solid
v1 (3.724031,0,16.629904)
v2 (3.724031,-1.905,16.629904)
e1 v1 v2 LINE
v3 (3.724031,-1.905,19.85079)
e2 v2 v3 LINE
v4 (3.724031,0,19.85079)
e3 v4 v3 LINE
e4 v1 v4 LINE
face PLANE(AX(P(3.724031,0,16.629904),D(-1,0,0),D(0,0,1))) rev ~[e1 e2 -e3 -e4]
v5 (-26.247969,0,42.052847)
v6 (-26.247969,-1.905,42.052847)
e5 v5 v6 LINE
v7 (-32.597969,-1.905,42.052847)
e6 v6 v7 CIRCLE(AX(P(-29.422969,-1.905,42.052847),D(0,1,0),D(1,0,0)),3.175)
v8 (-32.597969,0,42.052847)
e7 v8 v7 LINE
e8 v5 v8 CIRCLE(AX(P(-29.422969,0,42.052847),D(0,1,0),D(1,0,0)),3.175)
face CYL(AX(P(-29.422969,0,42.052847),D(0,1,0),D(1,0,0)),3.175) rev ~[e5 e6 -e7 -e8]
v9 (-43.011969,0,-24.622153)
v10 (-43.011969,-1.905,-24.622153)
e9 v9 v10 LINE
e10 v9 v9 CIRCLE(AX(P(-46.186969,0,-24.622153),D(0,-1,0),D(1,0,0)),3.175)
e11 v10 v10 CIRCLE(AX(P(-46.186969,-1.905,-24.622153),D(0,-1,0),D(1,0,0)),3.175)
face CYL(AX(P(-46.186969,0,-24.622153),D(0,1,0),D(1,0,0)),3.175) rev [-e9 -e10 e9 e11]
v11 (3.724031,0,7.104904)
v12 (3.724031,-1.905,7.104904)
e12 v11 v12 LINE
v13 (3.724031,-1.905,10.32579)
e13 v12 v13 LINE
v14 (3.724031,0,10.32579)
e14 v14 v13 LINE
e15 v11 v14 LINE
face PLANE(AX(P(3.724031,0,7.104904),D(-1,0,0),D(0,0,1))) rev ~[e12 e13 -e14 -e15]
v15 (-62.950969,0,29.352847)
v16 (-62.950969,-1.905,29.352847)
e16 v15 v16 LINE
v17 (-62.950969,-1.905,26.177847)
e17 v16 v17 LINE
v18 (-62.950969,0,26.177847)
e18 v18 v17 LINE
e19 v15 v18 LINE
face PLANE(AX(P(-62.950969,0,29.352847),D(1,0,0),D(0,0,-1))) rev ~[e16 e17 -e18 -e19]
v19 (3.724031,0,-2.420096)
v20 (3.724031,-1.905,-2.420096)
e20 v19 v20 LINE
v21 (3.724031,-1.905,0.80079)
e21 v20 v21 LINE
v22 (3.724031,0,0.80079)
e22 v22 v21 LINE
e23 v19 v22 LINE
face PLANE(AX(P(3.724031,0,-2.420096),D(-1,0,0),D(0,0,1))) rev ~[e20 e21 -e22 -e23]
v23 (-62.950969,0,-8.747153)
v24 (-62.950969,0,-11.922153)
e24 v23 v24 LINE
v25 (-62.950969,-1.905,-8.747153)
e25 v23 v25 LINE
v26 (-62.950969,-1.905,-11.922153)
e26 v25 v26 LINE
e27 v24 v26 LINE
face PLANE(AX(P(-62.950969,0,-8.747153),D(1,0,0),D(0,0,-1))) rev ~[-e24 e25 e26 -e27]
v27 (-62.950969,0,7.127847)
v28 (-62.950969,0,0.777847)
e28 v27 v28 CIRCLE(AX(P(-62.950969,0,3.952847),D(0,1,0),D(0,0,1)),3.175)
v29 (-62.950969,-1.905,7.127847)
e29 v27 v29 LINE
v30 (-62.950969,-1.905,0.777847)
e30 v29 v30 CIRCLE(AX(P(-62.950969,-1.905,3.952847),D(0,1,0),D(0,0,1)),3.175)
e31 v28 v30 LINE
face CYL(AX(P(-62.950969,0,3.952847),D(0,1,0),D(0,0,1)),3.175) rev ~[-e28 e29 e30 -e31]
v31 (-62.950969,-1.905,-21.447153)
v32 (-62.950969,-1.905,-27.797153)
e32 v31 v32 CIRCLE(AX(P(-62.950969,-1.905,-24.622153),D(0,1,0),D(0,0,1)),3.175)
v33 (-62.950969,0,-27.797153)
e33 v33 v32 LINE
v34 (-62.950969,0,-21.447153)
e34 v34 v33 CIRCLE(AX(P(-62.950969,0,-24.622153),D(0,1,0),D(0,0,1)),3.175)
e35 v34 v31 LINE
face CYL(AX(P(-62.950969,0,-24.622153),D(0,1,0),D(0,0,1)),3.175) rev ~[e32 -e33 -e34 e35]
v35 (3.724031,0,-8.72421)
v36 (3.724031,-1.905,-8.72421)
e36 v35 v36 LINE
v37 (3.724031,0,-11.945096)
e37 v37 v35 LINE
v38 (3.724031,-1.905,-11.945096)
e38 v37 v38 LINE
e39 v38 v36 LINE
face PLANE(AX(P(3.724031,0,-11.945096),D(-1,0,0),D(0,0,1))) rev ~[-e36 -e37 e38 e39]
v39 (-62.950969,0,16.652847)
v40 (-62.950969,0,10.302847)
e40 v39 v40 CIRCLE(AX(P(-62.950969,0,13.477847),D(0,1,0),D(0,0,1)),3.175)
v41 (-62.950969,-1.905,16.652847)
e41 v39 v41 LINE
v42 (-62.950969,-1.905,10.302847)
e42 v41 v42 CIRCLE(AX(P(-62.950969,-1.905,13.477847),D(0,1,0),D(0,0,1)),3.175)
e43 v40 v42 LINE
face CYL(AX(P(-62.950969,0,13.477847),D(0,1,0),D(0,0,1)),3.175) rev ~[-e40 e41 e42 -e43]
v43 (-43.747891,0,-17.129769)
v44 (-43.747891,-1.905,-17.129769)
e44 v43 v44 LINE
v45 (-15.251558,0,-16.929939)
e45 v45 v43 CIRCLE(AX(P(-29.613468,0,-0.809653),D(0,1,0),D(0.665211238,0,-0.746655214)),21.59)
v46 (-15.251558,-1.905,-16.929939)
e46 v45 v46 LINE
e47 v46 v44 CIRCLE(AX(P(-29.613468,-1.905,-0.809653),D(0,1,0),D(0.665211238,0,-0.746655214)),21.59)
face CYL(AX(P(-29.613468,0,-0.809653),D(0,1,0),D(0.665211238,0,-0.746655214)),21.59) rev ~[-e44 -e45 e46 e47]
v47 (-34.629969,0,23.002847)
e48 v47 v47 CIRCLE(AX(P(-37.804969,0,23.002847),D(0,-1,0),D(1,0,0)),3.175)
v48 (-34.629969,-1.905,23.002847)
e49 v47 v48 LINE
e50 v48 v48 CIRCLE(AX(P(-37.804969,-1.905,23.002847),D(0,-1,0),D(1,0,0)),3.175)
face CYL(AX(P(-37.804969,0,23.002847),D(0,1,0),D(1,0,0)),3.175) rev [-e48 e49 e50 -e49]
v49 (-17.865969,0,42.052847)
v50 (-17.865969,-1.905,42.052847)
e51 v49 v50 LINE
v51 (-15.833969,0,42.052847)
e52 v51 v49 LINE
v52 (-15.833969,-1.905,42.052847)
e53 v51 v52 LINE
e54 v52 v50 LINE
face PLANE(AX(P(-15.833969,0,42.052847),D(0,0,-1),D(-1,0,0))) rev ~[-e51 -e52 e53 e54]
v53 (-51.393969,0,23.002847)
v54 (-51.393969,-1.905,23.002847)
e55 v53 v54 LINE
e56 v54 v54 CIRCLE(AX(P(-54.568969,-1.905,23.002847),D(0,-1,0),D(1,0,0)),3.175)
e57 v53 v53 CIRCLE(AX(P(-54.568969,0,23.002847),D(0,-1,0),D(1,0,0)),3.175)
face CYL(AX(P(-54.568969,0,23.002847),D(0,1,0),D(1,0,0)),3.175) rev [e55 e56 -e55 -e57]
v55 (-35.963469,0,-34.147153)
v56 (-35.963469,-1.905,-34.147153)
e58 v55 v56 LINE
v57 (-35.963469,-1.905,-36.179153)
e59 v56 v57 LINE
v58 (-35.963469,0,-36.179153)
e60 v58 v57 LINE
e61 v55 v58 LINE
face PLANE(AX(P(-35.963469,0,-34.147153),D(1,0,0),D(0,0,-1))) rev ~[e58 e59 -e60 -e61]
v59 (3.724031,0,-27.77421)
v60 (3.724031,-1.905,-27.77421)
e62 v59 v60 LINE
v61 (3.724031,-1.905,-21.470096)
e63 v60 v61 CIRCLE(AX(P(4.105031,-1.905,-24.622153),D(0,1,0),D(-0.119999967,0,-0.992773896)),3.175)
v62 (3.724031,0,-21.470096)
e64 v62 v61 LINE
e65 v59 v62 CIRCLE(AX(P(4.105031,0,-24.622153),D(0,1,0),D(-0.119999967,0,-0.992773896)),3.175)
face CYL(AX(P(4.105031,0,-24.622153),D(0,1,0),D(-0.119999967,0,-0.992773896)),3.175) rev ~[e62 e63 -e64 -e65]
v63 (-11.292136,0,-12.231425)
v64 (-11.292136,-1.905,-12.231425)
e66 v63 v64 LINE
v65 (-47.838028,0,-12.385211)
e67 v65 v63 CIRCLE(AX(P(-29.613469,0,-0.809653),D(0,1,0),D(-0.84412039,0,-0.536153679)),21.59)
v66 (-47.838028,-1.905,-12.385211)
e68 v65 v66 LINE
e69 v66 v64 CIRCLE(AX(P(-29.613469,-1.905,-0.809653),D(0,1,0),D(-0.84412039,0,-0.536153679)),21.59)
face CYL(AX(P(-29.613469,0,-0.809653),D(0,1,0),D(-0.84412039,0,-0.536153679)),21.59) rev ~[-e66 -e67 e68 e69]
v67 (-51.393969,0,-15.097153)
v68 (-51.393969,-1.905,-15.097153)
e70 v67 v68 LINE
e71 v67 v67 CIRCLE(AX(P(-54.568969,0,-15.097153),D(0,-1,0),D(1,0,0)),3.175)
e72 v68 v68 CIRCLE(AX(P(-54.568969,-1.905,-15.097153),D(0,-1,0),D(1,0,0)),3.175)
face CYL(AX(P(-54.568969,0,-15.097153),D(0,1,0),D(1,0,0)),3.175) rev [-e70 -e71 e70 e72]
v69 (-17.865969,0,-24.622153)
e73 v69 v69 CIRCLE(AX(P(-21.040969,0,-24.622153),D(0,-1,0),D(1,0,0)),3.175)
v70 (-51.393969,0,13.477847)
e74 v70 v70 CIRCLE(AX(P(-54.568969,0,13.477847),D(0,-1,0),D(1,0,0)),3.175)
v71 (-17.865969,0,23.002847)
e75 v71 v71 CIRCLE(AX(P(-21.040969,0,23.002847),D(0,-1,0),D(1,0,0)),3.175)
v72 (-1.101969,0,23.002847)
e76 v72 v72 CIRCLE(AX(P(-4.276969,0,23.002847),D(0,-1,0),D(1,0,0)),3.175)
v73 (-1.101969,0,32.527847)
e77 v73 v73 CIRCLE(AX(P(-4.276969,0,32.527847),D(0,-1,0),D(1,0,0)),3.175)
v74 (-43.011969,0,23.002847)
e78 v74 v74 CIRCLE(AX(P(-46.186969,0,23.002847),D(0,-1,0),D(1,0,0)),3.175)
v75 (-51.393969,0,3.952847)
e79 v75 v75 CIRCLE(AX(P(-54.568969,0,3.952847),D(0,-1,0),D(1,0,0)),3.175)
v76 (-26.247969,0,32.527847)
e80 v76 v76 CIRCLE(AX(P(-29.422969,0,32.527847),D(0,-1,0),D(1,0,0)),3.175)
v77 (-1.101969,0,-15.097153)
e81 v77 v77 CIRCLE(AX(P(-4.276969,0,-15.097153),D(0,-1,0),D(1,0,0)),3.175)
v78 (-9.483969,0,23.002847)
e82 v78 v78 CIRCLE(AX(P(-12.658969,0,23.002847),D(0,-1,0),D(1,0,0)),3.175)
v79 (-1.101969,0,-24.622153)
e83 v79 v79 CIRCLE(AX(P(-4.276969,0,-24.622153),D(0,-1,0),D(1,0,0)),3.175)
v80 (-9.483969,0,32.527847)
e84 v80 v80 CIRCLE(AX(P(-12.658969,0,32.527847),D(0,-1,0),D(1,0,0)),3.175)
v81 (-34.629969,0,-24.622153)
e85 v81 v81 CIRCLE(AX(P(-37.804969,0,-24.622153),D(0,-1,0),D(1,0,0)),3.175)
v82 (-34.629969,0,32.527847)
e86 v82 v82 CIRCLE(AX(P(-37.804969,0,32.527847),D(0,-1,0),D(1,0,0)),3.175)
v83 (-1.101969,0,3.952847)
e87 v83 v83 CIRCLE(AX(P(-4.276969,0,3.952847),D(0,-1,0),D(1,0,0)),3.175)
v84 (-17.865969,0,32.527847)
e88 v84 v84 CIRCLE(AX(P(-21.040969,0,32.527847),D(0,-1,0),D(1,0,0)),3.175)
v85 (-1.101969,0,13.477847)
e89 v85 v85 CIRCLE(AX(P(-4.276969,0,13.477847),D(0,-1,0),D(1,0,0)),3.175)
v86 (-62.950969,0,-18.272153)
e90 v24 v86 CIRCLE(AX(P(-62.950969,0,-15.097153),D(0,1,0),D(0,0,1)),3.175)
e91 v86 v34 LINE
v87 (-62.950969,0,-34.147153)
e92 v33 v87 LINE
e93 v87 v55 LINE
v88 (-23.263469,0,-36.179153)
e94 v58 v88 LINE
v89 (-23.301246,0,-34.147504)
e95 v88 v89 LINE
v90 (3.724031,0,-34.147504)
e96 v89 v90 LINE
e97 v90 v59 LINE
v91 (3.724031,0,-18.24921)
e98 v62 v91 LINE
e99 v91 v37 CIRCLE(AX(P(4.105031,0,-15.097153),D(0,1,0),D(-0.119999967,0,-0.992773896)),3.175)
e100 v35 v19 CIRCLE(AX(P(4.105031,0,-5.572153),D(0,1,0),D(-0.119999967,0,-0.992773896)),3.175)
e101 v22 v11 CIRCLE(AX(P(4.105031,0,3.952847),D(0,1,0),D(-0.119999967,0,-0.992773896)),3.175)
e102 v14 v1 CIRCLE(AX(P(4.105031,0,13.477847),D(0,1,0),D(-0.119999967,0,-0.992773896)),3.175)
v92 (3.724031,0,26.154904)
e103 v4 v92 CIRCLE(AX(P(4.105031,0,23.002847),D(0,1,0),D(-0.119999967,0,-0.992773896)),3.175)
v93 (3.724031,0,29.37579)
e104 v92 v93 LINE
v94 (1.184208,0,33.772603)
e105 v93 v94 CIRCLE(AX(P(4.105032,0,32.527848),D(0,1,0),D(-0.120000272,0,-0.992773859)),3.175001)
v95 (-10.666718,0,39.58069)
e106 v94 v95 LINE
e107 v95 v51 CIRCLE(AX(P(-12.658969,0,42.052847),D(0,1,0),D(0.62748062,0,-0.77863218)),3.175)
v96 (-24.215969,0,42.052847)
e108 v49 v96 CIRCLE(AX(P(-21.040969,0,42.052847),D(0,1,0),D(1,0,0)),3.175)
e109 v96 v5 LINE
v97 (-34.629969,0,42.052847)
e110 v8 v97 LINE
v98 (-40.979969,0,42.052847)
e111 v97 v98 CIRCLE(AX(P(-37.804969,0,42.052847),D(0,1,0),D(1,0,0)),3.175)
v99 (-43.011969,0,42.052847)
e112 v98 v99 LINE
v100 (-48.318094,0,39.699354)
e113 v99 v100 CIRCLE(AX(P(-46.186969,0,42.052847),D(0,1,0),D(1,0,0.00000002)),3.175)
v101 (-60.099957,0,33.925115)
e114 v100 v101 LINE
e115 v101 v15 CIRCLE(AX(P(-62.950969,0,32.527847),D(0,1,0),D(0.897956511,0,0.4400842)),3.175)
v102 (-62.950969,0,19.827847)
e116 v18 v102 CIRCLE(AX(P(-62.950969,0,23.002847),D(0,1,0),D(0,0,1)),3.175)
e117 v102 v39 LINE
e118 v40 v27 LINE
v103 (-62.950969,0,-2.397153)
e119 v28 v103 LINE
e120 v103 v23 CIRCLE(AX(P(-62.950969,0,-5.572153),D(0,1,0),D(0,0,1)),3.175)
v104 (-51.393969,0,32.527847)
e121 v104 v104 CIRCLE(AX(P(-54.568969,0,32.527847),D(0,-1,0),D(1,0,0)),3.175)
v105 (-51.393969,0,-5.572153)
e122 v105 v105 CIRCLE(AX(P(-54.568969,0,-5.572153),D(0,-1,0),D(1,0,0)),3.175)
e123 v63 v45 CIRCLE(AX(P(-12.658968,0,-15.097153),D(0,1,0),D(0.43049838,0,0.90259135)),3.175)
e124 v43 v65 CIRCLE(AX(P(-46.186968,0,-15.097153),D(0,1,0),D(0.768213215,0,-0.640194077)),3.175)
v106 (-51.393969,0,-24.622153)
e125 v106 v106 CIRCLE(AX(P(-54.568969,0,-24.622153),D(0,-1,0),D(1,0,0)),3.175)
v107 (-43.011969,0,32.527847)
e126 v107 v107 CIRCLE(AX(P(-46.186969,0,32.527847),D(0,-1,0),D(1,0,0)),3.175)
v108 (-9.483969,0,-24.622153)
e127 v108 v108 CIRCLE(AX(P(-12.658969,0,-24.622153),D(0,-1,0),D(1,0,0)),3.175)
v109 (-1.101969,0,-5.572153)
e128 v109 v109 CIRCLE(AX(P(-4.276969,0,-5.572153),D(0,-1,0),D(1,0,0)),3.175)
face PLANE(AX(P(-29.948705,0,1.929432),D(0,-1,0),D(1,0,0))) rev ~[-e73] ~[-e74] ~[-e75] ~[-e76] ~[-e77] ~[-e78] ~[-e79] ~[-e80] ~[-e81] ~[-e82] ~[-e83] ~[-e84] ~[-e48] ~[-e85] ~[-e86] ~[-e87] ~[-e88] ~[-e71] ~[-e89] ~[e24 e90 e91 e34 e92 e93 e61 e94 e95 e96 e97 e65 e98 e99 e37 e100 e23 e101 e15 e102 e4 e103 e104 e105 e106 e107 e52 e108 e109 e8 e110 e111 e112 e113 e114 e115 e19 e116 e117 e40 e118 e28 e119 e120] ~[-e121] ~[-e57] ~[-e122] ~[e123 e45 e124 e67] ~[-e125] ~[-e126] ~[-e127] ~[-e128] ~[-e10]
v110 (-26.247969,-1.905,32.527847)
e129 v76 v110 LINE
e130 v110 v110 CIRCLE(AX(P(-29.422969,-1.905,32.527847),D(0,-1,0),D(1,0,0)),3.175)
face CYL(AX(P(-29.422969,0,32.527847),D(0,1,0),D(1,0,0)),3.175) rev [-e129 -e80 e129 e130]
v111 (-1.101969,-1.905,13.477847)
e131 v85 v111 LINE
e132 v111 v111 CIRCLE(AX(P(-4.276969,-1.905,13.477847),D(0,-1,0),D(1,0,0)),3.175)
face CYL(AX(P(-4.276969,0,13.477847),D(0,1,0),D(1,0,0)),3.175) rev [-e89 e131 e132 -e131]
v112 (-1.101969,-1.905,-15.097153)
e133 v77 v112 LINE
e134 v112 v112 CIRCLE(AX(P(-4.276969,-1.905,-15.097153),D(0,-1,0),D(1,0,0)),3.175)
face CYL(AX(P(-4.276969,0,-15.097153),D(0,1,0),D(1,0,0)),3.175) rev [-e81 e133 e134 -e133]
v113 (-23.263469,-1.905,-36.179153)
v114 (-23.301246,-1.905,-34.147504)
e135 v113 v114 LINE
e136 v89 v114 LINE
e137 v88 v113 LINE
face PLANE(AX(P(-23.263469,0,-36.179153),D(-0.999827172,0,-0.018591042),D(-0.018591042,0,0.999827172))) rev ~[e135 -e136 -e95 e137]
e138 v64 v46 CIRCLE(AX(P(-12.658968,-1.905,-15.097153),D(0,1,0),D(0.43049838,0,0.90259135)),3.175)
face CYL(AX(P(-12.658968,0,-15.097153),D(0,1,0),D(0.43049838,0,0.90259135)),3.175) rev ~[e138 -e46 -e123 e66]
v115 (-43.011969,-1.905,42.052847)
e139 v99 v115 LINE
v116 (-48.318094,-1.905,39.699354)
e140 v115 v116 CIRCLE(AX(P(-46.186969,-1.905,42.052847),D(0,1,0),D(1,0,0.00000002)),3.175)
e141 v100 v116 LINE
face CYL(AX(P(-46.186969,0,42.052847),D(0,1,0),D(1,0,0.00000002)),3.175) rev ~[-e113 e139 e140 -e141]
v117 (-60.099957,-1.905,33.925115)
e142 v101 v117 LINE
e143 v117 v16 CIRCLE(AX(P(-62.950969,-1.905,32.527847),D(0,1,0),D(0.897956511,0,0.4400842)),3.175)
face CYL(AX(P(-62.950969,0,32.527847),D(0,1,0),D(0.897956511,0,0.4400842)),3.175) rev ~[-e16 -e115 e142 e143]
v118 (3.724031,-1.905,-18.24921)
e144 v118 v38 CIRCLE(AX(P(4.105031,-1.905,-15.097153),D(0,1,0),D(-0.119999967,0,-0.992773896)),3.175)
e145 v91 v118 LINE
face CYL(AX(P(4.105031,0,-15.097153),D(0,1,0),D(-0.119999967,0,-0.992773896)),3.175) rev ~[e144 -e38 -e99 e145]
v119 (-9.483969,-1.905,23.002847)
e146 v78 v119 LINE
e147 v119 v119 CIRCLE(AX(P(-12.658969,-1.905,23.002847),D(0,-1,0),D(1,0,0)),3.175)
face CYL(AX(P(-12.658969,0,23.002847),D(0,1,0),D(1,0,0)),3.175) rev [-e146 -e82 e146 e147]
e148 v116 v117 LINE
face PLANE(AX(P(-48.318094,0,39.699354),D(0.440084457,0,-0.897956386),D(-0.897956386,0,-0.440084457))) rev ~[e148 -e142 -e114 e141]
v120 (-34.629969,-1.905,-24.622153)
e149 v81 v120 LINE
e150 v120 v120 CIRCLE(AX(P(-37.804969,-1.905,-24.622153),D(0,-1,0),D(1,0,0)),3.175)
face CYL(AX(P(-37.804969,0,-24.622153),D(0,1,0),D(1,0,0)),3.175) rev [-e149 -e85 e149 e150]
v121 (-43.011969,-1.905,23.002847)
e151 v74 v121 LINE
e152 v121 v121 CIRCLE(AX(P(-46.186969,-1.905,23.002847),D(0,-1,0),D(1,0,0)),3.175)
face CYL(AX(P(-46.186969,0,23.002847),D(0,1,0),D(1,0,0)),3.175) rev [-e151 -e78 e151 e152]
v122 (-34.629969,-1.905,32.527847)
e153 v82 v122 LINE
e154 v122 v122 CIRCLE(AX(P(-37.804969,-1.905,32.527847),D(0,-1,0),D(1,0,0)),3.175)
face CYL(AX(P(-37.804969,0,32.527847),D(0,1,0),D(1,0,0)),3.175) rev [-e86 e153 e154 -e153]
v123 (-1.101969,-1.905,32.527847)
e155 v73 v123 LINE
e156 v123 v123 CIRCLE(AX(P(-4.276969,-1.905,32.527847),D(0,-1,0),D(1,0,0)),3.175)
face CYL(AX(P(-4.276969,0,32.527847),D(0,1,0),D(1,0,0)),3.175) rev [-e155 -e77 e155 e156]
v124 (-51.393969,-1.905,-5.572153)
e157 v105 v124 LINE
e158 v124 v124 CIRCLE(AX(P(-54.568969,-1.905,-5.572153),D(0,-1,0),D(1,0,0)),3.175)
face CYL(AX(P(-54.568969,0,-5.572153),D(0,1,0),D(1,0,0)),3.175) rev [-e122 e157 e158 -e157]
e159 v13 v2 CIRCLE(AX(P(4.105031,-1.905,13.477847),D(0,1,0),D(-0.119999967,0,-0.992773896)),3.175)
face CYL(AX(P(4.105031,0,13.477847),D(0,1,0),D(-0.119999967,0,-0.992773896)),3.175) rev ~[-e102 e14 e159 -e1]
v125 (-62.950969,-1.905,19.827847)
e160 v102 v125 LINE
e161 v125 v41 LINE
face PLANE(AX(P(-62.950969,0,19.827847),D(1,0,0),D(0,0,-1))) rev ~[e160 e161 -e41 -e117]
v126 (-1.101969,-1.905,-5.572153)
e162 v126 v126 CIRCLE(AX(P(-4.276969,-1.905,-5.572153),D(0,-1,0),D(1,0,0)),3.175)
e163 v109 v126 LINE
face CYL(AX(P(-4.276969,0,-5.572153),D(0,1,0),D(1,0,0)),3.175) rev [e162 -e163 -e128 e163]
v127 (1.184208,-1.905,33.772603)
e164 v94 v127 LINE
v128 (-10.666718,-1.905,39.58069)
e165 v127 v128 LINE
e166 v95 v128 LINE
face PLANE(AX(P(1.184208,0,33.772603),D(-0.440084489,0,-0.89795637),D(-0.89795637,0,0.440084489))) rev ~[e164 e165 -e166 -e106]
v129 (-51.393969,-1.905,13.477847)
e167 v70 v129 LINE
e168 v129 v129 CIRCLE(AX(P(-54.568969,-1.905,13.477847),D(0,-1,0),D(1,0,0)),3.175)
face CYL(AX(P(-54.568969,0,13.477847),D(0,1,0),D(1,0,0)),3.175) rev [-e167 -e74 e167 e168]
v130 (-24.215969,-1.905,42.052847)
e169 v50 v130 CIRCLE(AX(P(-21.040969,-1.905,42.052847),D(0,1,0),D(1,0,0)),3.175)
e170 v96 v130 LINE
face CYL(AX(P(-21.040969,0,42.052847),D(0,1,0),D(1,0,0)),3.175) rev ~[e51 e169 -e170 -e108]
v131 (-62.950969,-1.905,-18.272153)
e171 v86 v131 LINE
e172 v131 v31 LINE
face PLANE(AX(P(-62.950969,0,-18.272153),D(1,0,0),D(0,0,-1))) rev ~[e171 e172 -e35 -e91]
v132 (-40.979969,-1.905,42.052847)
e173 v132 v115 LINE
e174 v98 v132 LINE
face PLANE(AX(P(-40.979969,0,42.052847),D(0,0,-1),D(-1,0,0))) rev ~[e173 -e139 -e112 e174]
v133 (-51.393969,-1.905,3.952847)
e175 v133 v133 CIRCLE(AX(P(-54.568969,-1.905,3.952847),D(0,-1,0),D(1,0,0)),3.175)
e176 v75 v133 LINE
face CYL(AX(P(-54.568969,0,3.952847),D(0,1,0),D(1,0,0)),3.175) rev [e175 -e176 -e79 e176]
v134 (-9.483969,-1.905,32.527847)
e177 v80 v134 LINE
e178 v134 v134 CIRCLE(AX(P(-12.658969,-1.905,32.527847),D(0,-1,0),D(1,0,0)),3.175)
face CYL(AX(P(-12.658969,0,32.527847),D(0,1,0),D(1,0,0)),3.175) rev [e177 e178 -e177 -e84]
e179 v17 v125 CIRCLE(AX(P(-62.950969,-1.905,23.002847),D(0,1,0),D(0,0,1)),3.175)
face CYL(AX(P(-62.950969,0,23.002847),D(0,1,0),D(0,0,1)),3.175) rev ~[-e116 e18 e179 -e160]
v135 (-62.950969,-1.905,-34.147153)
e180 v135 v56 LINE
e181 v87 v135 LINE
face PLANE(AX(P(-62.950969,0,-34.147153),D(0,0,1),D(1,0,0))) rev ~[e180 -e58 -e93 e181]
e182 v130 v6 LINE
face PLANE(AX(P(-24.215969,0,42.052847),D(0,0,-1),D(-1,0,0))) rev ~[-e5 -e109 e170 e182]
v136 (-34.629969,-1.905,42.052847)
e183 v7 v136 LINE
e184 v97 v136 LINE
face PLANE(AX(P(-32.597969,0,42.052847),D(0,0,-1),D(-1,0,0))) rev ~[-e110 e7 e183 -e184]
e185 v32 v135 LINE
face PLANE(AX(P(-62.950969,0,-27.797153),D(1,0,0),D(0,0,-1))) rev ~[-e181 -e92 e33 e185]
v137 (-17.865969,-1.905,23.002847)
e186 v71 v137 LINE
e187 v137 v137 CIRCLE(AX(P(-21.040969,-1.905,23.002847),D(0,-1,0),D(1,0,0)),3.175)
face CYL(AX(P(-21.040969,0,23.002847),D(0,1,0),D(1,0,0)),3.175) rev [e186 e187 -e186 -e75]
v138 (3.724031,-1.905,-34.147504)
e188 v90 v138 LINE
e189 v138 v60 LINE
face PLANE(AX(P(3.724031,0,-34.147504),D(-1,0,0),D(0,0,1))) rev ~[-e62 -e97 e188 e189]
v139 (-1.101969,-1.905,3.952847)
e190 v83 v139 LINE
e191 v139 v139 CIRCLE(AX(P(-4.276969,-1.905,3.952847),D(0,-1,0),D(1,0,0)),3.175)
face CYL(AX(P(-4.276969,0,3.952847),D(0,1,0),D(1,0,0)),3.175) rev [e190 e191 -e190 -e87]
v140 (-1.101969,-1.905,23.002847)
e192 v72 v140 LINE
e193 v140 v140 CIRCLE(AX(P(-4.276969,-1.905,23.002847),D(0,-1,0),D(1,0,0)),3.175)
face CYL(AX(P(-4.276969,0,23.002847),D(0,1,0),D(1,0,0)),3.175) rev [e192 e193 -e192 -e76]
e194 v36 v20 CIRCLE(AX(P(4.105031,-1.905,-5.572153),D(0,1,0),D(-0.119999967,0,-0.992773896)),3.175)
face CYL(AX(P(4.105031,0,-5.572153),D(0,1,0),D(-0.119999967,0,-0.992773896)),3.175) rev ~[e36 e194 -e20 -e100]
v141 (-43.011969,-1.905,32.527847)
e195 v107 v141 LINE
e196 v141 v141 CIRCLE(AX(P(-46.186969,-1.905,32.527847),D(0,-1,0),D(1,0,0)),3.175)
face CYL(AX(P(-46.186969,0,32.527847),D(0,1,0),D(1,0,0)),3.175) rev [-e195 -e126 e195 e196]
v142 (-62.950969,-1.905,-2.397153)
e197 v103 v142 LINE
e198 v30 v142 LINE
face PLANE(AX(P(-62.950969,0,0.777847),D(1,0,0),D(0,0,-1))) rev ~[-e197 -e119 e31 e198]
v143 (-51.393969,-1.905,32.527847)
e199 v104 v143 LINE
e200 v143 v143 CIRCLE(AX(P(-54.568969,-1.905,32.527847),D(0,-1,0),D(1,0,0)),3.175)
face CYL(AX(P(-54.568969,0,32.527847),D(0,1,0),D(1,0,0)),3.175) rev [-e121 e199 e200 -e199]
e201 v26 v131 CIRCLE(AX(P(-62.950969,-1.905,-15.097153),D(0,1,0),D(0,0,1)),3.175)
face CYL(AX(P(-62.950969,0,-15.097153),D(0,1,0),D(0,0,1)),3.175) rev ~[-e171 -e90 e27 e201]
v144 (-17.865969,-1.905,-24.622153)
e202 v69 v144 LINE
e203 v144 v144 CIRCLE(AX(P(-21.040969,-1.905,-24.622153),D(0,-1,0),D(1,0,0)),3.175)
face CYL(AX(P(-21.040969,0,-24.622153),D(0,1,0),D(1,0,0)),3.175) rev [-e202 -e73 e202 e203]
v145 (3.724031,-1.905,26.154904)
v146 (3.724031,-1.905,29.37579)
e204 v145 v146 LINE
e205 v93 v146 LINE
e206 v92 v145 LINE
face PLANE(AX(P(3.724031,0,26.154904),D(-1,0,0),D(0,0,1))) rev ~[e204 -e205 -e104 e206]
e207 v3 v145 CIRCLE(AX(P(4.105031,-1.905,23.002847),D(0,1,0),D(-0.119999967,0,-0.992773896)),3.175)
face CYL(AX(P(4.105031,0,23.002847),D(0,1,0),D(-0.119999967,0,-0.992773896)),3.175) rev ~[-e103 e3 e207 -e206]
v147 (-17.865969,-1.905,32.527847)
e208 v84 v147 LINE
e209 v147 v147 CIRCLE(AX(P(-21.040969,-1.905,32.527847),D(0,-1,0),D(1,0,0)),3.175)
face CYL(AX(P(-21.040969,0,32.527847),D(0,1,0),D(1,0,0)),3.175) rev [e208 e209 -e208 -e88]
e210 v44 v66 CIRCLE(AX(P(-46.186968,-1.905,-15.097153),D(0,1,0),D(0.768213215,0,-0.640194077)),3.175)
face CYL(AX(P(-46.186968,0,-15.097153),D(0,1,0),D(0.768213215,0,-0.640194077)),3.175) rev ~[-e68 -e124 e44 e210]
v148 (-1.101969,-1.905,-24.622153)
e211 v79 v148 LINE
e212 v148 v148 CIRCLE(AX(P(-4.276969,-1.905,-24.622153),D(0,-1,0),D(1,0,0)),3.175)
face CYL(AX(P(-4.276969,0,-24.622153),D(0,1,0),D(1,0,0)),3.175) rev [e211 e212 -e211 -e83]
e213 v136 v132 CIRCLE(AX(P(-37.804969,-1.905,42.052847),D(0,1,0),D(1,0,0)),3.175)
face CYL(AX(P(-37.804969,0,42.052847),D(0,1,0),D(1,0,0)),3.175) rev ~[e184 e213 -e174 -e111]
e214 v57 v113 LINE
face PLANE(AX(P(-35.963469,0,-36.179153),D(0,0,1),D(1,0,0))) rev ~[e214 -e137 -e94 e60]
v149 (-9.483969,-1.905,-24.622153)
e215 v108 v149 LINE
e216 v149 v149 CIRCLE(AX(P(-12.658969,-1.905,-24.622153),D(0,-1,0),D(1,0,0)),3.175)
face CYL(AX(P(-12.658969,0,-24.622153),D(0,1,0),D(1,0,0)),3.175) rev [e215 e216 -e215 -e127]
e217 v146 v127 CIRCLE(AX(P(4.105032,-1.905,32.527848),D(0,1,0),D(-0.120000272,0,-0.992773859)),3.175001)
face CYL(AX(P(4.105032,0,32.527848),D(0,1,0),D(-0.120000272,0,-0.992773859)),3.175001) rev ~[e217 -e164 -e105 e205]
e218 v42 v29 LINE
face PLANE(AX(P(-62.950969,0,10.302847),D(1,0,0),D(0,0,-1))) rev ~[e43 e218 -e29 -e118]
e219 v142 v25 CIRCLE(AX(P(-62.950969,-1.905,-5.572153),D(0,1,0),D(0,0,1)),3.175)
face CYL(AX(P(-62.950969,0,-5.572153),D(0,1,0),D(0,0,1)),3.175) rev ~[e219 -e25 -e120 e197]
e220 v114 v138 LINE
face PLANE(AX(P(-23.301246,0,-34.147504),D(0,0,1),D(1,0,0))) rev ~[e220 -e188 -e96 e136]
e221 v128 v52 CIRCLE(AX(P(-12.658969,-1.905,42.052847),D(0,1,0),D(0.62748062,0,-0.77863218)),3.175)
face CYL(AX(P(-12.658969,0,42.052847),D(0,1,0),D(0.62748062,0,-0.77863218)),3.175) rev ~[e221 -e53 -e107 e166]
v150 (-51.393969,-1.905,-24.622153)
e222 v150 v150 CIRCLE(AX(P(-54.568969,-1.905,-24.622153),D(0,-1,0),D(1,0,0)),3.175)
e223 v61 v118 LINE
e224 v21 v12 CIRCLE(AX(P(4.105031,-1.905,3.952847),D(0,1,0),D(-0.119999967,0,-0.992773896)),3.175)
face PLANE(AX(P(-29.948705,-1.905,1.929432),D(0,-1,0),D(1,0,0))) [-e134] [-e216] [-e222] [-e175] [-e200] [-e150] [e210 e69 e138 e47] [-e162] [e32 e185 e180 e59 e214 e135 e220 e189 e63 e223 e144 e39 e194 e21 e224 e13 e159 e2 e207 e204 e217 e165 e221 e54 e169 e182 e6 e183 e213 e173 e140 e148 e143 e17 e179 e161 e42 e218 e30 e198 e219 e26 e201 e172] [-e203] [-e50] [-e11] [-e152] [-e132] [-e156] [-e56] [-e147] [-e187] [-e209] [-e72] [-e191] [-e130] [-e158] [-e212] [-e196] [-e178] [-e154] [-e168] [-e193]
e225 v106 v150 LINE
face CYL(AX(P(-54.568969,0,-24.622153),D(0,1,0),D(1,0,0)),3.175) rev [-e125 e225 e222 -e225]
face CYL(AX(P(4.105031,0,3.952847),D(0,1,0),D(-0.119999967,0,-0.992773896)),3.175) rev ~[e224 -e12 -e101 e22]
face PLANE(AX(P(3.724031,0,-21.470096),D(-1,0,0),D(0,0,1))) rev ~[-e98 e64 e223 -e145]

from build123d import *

# Parameters (mm, degrees)
F0_R     = 3.175
F1_DEPTH = 1.905


with BuildPart() as f1:
    # F0 (on Front) → F1 (new body)
    with BuildSketch(Plane.XZ):
        with BuildLine():
            Line((-62.950969, -32.115153), (-62.950969, -34.147153))
            Line((-62.950969, -34.147153), (-35.963469, -34.147153))
            Line((-35.963469, -34.147153), (-35.963469, -36.179153))
            Line((-35.963469, -36.179153), (-23.263469, -36.179153))
            Line((-23.263469, -36.179153), (-23.301246, -34.147504))
            Line((-23.301246, -34.147504), (3.724031, -34.147504))
            Line((3.724031, -34.147504), (3.724031, -27.77421))
            ThreePointArc((3.724031, -27.77421), (0.930031, -24.622153), (3.724031, -21.470096))
            Line((3.724031, -21.470096), (3.724031, -18.24921))
            ThreePointArc((3.724031, -18.24921), (0.930031, -15.097153), (3.724031, -11.945096))
            Line((3.724031, -11.945096), (3.724031, -8.72421))
            ThreePointArc((3.724031, -8.72421), (0.930031, -5.572153), (3.724031, -2.420096))
            Line((3.724031, -2.420096), (3.724031, 0.80079))
            ThreePointArc((3.724031, 0.80079), (0.930031, 3.952847), (3.724031, 7.104904))
            Line((3.724031, 7.104904), (3.724031, 10.32579))
            ThreePointArc((3.724031, 10.32579), (0.930031, 13.477847), (3.724031, 16.629904))
            Line((3.724031, 16.629904), (3.724031, 19.85079))
            ThreePointArc((3.724031, 19.85079), (0.930031, 23.002847), (3.724031, 26.154904))
            Line((3.724031, 26.154904), (3.724031, 29.37579))
            ThreePointArc((3.724031, 29.37579), (1.355759, 30.939727), (1.184208, 33.772603))
            Line((1.184208, 33.772603), (-10.666718, 39.58069))
            ThreePointArc((-10.666718, 39.58069), (-14.029229, 39.188757), (-15.833969, 42.052847))
            Line((-15.833969, 42.052847), (-17.865969, 42.052847))
            ThreePointArc((-17.865969, 42.052847), (-21.040969, 38.877847), (-24.215969, 42.052847))
            Line((-24.215969, 42.052847), (-26.247969, 42.052847))
            ThreePointArc((-26.247969, 42.052847), (-29.422969, 38.877847), (-32.597969, 42.052847))
            Line((-32.597969, 42.052847), (-34.629969, 42.052847))
            ThreePointArc((-34.629969, 42.052847), (-37.804969, 38.877847), (-40.979969, 42.052847))
            Line((-40.979969, 42.052847), (-43.011969, 42.052847))
            ThreePointArc((-43.011969, 42.052847), (-44.899665, 39.150525), (-48.318094, 39.699354))
            Line((-48.318094, 39.699354), (-60.099957, 33.925115))
            ThreePointArc((-60.099957, 33.925115), (-60.256813, 30.847922), (-62.950969, 29.352847))
            Line((-62.950969, 29.352847), (-62.950969, 26.177847))
            ThreePointArc((-62.950969, 26.177847), (-59.775969, 23.002847), (-62.950969, 19.827847))
            Line((-62.950969, 19.827847), (-62.950969, 16.652847))
            ThreePointArc((-62.950969, 16.652847), (-59.775969, 13.477847), (-62.950969, 10.302847))
            Line((-62.950969, 10.302847), (-62.950969, 7.127847))
            ThreePointArc((-62.950969, 7.127847), (-59.775969, 3.952847), (-62.950969, 0.777847))
            Line((-62.950969, 0.777847), (-62.950969, -2.397153))
            ThreePointArc((-62.950969, -2.397153), (-59.775969, -5.572153), (-62.950969, -8.747153))
            Line((-62.950969, -8.747153), (-62.950969, -11.922153))
            ThreePointArc((-62.950969, -11.922153), (-59.775969, -15.097153), (-62.950969, -18.272153))
            Line((-62.950969, -18.272153), (-62.950969, -21.447153))
            ThreePointArc((-62.950969, -21.447153), (-59.775969, -24.622153), (-62.950969, -27.797153))
            Line((-62.950969, -27.797153), (-62.950969, -32.115153))
        make_face()
        with Locations((-54.568969, -24.622153)):
            Circle(F0_R, mode=Mode.SUBTRACT)
        with Locations((-46.186969, -24.622153)):
            Circle(F0_R, mode=Mode.SUBTRACT)
        with Locations((-37.804969, -24.622153)):
            Circle(F0_R, mode=Mode.SUBTRACT)
        with Locations((-54.568969, -15.097153)):
            Circle(F0_R, mode=Mode.SUBTRACT)
        with Locations((-54.568969, -5.572153)):
            Circle(F0_R, mode=Mode.SUBTRACT)
        with BuildLine():
            ThreePointArc((-47.838028, -12.385211), (-29.704319, 20.780156), (-11.292136, -12.231425))
            ThreePointArc((-11.292136, -12.231425), (-10.231083, -17.143124), (-15.251558, -16.929939))
            ThreePointArc((-15.251558, -16.929939), (-29.462073, -22.399122), (-43.747891, -17.129769))
            ThreePointArc((-43.747891, -17.129769), (-48.591745, -17.170236), (-47.838028, -12.385211))
        make_face(mode=Mode.SUBTRACT)
        with Locations((-21.040969, -24.622153)):
            Circle(F0_R, mode=Mode.SUBTRACT)
        with Locations((-12.658969, -24.622153)):
            Circle(F0_R, mode=Mode.SUBTRACT)
        with Locations((-4.276969, -24.622153)):
            Circle(F0_R, mode=Mode.SUBTRACT)
        with Locations((-4.276969, -15.097153)):
            Circle(F0_R, mode=Mode.SUBTRACT)
        with Locations((-4.276969, -5.572153)):
            Circle(F0_R, mode=Mode.SUBTRACT)
        with Locations((-54.568969, 3.952847)):
            Circle(F0_R, mode=Mode.SUBTRACT)
        with Locations((-54.568969, 13.477847)):
            Circle(F0_R, mode=Mode.SUBTRACT)
        with Locations((-54.568969, 23.002847)):
            Circle(F0_R, mode=Mode.SUBTRACT)
        with Locations((-54.568969, 32.527847)):
            Circle(F0_R, mode=Mode.SUBTRACT)
        with Locations((-46.186969, 23.002847)):
            Circle(F0_R, mode=Mode.SUBTRACT)
        with Locations((-37.804969, 23.002847)):
            Circle(F0_R, mode=Mode.SUBTRACT)
        with Locations((-46.186969, 32.527847)):
            Circle(F0_R, mode=Mode.SUBTRACT)
        with Locations((-37.804969, 32.527847)):
            Circle(F0_R, mode=Mode.SUBTRACT)
        with Locations((-4.276969, 3.952847)):
            Circle(F0_R, mode=Mode.SUBTRACT)
        with Locations((-4.276969, 13.477847)):
            Circle(F0_R, mode=Mode.SUBTRACT)
        with Locations((-21.040969, 23.002847)):
            Circle(F0_R, mode=Mode.SUBTRACT)
        with Locations((-29.422969, 32.527847)):
            Circle(F0_R, mode=Mode.SUBTRACT)
        with Locations((-21.040969, 32.527847)):
            Circle(F0_R, mode=Mode.SUBTRACT)
        with Locations((-12.658969, 23.002847)):
            Circle(F0_R, mode=Mode.SUBTRACT)
        with Locations((-4.276969, 23.002847)):
            Circle(F0_R, mode=Mode.SUBTRACT)
        with Locations((-12.658969, 32.527847)):
            Circle(F0_R, mode=Mode.SUBTRACT)
        with Locations((-4.276969, 32.527847)):
            Circle(F0_R, mode=Mode.SUBTRACT)
    extrude(amount=F1_DEPTH)


solid = f1.part
